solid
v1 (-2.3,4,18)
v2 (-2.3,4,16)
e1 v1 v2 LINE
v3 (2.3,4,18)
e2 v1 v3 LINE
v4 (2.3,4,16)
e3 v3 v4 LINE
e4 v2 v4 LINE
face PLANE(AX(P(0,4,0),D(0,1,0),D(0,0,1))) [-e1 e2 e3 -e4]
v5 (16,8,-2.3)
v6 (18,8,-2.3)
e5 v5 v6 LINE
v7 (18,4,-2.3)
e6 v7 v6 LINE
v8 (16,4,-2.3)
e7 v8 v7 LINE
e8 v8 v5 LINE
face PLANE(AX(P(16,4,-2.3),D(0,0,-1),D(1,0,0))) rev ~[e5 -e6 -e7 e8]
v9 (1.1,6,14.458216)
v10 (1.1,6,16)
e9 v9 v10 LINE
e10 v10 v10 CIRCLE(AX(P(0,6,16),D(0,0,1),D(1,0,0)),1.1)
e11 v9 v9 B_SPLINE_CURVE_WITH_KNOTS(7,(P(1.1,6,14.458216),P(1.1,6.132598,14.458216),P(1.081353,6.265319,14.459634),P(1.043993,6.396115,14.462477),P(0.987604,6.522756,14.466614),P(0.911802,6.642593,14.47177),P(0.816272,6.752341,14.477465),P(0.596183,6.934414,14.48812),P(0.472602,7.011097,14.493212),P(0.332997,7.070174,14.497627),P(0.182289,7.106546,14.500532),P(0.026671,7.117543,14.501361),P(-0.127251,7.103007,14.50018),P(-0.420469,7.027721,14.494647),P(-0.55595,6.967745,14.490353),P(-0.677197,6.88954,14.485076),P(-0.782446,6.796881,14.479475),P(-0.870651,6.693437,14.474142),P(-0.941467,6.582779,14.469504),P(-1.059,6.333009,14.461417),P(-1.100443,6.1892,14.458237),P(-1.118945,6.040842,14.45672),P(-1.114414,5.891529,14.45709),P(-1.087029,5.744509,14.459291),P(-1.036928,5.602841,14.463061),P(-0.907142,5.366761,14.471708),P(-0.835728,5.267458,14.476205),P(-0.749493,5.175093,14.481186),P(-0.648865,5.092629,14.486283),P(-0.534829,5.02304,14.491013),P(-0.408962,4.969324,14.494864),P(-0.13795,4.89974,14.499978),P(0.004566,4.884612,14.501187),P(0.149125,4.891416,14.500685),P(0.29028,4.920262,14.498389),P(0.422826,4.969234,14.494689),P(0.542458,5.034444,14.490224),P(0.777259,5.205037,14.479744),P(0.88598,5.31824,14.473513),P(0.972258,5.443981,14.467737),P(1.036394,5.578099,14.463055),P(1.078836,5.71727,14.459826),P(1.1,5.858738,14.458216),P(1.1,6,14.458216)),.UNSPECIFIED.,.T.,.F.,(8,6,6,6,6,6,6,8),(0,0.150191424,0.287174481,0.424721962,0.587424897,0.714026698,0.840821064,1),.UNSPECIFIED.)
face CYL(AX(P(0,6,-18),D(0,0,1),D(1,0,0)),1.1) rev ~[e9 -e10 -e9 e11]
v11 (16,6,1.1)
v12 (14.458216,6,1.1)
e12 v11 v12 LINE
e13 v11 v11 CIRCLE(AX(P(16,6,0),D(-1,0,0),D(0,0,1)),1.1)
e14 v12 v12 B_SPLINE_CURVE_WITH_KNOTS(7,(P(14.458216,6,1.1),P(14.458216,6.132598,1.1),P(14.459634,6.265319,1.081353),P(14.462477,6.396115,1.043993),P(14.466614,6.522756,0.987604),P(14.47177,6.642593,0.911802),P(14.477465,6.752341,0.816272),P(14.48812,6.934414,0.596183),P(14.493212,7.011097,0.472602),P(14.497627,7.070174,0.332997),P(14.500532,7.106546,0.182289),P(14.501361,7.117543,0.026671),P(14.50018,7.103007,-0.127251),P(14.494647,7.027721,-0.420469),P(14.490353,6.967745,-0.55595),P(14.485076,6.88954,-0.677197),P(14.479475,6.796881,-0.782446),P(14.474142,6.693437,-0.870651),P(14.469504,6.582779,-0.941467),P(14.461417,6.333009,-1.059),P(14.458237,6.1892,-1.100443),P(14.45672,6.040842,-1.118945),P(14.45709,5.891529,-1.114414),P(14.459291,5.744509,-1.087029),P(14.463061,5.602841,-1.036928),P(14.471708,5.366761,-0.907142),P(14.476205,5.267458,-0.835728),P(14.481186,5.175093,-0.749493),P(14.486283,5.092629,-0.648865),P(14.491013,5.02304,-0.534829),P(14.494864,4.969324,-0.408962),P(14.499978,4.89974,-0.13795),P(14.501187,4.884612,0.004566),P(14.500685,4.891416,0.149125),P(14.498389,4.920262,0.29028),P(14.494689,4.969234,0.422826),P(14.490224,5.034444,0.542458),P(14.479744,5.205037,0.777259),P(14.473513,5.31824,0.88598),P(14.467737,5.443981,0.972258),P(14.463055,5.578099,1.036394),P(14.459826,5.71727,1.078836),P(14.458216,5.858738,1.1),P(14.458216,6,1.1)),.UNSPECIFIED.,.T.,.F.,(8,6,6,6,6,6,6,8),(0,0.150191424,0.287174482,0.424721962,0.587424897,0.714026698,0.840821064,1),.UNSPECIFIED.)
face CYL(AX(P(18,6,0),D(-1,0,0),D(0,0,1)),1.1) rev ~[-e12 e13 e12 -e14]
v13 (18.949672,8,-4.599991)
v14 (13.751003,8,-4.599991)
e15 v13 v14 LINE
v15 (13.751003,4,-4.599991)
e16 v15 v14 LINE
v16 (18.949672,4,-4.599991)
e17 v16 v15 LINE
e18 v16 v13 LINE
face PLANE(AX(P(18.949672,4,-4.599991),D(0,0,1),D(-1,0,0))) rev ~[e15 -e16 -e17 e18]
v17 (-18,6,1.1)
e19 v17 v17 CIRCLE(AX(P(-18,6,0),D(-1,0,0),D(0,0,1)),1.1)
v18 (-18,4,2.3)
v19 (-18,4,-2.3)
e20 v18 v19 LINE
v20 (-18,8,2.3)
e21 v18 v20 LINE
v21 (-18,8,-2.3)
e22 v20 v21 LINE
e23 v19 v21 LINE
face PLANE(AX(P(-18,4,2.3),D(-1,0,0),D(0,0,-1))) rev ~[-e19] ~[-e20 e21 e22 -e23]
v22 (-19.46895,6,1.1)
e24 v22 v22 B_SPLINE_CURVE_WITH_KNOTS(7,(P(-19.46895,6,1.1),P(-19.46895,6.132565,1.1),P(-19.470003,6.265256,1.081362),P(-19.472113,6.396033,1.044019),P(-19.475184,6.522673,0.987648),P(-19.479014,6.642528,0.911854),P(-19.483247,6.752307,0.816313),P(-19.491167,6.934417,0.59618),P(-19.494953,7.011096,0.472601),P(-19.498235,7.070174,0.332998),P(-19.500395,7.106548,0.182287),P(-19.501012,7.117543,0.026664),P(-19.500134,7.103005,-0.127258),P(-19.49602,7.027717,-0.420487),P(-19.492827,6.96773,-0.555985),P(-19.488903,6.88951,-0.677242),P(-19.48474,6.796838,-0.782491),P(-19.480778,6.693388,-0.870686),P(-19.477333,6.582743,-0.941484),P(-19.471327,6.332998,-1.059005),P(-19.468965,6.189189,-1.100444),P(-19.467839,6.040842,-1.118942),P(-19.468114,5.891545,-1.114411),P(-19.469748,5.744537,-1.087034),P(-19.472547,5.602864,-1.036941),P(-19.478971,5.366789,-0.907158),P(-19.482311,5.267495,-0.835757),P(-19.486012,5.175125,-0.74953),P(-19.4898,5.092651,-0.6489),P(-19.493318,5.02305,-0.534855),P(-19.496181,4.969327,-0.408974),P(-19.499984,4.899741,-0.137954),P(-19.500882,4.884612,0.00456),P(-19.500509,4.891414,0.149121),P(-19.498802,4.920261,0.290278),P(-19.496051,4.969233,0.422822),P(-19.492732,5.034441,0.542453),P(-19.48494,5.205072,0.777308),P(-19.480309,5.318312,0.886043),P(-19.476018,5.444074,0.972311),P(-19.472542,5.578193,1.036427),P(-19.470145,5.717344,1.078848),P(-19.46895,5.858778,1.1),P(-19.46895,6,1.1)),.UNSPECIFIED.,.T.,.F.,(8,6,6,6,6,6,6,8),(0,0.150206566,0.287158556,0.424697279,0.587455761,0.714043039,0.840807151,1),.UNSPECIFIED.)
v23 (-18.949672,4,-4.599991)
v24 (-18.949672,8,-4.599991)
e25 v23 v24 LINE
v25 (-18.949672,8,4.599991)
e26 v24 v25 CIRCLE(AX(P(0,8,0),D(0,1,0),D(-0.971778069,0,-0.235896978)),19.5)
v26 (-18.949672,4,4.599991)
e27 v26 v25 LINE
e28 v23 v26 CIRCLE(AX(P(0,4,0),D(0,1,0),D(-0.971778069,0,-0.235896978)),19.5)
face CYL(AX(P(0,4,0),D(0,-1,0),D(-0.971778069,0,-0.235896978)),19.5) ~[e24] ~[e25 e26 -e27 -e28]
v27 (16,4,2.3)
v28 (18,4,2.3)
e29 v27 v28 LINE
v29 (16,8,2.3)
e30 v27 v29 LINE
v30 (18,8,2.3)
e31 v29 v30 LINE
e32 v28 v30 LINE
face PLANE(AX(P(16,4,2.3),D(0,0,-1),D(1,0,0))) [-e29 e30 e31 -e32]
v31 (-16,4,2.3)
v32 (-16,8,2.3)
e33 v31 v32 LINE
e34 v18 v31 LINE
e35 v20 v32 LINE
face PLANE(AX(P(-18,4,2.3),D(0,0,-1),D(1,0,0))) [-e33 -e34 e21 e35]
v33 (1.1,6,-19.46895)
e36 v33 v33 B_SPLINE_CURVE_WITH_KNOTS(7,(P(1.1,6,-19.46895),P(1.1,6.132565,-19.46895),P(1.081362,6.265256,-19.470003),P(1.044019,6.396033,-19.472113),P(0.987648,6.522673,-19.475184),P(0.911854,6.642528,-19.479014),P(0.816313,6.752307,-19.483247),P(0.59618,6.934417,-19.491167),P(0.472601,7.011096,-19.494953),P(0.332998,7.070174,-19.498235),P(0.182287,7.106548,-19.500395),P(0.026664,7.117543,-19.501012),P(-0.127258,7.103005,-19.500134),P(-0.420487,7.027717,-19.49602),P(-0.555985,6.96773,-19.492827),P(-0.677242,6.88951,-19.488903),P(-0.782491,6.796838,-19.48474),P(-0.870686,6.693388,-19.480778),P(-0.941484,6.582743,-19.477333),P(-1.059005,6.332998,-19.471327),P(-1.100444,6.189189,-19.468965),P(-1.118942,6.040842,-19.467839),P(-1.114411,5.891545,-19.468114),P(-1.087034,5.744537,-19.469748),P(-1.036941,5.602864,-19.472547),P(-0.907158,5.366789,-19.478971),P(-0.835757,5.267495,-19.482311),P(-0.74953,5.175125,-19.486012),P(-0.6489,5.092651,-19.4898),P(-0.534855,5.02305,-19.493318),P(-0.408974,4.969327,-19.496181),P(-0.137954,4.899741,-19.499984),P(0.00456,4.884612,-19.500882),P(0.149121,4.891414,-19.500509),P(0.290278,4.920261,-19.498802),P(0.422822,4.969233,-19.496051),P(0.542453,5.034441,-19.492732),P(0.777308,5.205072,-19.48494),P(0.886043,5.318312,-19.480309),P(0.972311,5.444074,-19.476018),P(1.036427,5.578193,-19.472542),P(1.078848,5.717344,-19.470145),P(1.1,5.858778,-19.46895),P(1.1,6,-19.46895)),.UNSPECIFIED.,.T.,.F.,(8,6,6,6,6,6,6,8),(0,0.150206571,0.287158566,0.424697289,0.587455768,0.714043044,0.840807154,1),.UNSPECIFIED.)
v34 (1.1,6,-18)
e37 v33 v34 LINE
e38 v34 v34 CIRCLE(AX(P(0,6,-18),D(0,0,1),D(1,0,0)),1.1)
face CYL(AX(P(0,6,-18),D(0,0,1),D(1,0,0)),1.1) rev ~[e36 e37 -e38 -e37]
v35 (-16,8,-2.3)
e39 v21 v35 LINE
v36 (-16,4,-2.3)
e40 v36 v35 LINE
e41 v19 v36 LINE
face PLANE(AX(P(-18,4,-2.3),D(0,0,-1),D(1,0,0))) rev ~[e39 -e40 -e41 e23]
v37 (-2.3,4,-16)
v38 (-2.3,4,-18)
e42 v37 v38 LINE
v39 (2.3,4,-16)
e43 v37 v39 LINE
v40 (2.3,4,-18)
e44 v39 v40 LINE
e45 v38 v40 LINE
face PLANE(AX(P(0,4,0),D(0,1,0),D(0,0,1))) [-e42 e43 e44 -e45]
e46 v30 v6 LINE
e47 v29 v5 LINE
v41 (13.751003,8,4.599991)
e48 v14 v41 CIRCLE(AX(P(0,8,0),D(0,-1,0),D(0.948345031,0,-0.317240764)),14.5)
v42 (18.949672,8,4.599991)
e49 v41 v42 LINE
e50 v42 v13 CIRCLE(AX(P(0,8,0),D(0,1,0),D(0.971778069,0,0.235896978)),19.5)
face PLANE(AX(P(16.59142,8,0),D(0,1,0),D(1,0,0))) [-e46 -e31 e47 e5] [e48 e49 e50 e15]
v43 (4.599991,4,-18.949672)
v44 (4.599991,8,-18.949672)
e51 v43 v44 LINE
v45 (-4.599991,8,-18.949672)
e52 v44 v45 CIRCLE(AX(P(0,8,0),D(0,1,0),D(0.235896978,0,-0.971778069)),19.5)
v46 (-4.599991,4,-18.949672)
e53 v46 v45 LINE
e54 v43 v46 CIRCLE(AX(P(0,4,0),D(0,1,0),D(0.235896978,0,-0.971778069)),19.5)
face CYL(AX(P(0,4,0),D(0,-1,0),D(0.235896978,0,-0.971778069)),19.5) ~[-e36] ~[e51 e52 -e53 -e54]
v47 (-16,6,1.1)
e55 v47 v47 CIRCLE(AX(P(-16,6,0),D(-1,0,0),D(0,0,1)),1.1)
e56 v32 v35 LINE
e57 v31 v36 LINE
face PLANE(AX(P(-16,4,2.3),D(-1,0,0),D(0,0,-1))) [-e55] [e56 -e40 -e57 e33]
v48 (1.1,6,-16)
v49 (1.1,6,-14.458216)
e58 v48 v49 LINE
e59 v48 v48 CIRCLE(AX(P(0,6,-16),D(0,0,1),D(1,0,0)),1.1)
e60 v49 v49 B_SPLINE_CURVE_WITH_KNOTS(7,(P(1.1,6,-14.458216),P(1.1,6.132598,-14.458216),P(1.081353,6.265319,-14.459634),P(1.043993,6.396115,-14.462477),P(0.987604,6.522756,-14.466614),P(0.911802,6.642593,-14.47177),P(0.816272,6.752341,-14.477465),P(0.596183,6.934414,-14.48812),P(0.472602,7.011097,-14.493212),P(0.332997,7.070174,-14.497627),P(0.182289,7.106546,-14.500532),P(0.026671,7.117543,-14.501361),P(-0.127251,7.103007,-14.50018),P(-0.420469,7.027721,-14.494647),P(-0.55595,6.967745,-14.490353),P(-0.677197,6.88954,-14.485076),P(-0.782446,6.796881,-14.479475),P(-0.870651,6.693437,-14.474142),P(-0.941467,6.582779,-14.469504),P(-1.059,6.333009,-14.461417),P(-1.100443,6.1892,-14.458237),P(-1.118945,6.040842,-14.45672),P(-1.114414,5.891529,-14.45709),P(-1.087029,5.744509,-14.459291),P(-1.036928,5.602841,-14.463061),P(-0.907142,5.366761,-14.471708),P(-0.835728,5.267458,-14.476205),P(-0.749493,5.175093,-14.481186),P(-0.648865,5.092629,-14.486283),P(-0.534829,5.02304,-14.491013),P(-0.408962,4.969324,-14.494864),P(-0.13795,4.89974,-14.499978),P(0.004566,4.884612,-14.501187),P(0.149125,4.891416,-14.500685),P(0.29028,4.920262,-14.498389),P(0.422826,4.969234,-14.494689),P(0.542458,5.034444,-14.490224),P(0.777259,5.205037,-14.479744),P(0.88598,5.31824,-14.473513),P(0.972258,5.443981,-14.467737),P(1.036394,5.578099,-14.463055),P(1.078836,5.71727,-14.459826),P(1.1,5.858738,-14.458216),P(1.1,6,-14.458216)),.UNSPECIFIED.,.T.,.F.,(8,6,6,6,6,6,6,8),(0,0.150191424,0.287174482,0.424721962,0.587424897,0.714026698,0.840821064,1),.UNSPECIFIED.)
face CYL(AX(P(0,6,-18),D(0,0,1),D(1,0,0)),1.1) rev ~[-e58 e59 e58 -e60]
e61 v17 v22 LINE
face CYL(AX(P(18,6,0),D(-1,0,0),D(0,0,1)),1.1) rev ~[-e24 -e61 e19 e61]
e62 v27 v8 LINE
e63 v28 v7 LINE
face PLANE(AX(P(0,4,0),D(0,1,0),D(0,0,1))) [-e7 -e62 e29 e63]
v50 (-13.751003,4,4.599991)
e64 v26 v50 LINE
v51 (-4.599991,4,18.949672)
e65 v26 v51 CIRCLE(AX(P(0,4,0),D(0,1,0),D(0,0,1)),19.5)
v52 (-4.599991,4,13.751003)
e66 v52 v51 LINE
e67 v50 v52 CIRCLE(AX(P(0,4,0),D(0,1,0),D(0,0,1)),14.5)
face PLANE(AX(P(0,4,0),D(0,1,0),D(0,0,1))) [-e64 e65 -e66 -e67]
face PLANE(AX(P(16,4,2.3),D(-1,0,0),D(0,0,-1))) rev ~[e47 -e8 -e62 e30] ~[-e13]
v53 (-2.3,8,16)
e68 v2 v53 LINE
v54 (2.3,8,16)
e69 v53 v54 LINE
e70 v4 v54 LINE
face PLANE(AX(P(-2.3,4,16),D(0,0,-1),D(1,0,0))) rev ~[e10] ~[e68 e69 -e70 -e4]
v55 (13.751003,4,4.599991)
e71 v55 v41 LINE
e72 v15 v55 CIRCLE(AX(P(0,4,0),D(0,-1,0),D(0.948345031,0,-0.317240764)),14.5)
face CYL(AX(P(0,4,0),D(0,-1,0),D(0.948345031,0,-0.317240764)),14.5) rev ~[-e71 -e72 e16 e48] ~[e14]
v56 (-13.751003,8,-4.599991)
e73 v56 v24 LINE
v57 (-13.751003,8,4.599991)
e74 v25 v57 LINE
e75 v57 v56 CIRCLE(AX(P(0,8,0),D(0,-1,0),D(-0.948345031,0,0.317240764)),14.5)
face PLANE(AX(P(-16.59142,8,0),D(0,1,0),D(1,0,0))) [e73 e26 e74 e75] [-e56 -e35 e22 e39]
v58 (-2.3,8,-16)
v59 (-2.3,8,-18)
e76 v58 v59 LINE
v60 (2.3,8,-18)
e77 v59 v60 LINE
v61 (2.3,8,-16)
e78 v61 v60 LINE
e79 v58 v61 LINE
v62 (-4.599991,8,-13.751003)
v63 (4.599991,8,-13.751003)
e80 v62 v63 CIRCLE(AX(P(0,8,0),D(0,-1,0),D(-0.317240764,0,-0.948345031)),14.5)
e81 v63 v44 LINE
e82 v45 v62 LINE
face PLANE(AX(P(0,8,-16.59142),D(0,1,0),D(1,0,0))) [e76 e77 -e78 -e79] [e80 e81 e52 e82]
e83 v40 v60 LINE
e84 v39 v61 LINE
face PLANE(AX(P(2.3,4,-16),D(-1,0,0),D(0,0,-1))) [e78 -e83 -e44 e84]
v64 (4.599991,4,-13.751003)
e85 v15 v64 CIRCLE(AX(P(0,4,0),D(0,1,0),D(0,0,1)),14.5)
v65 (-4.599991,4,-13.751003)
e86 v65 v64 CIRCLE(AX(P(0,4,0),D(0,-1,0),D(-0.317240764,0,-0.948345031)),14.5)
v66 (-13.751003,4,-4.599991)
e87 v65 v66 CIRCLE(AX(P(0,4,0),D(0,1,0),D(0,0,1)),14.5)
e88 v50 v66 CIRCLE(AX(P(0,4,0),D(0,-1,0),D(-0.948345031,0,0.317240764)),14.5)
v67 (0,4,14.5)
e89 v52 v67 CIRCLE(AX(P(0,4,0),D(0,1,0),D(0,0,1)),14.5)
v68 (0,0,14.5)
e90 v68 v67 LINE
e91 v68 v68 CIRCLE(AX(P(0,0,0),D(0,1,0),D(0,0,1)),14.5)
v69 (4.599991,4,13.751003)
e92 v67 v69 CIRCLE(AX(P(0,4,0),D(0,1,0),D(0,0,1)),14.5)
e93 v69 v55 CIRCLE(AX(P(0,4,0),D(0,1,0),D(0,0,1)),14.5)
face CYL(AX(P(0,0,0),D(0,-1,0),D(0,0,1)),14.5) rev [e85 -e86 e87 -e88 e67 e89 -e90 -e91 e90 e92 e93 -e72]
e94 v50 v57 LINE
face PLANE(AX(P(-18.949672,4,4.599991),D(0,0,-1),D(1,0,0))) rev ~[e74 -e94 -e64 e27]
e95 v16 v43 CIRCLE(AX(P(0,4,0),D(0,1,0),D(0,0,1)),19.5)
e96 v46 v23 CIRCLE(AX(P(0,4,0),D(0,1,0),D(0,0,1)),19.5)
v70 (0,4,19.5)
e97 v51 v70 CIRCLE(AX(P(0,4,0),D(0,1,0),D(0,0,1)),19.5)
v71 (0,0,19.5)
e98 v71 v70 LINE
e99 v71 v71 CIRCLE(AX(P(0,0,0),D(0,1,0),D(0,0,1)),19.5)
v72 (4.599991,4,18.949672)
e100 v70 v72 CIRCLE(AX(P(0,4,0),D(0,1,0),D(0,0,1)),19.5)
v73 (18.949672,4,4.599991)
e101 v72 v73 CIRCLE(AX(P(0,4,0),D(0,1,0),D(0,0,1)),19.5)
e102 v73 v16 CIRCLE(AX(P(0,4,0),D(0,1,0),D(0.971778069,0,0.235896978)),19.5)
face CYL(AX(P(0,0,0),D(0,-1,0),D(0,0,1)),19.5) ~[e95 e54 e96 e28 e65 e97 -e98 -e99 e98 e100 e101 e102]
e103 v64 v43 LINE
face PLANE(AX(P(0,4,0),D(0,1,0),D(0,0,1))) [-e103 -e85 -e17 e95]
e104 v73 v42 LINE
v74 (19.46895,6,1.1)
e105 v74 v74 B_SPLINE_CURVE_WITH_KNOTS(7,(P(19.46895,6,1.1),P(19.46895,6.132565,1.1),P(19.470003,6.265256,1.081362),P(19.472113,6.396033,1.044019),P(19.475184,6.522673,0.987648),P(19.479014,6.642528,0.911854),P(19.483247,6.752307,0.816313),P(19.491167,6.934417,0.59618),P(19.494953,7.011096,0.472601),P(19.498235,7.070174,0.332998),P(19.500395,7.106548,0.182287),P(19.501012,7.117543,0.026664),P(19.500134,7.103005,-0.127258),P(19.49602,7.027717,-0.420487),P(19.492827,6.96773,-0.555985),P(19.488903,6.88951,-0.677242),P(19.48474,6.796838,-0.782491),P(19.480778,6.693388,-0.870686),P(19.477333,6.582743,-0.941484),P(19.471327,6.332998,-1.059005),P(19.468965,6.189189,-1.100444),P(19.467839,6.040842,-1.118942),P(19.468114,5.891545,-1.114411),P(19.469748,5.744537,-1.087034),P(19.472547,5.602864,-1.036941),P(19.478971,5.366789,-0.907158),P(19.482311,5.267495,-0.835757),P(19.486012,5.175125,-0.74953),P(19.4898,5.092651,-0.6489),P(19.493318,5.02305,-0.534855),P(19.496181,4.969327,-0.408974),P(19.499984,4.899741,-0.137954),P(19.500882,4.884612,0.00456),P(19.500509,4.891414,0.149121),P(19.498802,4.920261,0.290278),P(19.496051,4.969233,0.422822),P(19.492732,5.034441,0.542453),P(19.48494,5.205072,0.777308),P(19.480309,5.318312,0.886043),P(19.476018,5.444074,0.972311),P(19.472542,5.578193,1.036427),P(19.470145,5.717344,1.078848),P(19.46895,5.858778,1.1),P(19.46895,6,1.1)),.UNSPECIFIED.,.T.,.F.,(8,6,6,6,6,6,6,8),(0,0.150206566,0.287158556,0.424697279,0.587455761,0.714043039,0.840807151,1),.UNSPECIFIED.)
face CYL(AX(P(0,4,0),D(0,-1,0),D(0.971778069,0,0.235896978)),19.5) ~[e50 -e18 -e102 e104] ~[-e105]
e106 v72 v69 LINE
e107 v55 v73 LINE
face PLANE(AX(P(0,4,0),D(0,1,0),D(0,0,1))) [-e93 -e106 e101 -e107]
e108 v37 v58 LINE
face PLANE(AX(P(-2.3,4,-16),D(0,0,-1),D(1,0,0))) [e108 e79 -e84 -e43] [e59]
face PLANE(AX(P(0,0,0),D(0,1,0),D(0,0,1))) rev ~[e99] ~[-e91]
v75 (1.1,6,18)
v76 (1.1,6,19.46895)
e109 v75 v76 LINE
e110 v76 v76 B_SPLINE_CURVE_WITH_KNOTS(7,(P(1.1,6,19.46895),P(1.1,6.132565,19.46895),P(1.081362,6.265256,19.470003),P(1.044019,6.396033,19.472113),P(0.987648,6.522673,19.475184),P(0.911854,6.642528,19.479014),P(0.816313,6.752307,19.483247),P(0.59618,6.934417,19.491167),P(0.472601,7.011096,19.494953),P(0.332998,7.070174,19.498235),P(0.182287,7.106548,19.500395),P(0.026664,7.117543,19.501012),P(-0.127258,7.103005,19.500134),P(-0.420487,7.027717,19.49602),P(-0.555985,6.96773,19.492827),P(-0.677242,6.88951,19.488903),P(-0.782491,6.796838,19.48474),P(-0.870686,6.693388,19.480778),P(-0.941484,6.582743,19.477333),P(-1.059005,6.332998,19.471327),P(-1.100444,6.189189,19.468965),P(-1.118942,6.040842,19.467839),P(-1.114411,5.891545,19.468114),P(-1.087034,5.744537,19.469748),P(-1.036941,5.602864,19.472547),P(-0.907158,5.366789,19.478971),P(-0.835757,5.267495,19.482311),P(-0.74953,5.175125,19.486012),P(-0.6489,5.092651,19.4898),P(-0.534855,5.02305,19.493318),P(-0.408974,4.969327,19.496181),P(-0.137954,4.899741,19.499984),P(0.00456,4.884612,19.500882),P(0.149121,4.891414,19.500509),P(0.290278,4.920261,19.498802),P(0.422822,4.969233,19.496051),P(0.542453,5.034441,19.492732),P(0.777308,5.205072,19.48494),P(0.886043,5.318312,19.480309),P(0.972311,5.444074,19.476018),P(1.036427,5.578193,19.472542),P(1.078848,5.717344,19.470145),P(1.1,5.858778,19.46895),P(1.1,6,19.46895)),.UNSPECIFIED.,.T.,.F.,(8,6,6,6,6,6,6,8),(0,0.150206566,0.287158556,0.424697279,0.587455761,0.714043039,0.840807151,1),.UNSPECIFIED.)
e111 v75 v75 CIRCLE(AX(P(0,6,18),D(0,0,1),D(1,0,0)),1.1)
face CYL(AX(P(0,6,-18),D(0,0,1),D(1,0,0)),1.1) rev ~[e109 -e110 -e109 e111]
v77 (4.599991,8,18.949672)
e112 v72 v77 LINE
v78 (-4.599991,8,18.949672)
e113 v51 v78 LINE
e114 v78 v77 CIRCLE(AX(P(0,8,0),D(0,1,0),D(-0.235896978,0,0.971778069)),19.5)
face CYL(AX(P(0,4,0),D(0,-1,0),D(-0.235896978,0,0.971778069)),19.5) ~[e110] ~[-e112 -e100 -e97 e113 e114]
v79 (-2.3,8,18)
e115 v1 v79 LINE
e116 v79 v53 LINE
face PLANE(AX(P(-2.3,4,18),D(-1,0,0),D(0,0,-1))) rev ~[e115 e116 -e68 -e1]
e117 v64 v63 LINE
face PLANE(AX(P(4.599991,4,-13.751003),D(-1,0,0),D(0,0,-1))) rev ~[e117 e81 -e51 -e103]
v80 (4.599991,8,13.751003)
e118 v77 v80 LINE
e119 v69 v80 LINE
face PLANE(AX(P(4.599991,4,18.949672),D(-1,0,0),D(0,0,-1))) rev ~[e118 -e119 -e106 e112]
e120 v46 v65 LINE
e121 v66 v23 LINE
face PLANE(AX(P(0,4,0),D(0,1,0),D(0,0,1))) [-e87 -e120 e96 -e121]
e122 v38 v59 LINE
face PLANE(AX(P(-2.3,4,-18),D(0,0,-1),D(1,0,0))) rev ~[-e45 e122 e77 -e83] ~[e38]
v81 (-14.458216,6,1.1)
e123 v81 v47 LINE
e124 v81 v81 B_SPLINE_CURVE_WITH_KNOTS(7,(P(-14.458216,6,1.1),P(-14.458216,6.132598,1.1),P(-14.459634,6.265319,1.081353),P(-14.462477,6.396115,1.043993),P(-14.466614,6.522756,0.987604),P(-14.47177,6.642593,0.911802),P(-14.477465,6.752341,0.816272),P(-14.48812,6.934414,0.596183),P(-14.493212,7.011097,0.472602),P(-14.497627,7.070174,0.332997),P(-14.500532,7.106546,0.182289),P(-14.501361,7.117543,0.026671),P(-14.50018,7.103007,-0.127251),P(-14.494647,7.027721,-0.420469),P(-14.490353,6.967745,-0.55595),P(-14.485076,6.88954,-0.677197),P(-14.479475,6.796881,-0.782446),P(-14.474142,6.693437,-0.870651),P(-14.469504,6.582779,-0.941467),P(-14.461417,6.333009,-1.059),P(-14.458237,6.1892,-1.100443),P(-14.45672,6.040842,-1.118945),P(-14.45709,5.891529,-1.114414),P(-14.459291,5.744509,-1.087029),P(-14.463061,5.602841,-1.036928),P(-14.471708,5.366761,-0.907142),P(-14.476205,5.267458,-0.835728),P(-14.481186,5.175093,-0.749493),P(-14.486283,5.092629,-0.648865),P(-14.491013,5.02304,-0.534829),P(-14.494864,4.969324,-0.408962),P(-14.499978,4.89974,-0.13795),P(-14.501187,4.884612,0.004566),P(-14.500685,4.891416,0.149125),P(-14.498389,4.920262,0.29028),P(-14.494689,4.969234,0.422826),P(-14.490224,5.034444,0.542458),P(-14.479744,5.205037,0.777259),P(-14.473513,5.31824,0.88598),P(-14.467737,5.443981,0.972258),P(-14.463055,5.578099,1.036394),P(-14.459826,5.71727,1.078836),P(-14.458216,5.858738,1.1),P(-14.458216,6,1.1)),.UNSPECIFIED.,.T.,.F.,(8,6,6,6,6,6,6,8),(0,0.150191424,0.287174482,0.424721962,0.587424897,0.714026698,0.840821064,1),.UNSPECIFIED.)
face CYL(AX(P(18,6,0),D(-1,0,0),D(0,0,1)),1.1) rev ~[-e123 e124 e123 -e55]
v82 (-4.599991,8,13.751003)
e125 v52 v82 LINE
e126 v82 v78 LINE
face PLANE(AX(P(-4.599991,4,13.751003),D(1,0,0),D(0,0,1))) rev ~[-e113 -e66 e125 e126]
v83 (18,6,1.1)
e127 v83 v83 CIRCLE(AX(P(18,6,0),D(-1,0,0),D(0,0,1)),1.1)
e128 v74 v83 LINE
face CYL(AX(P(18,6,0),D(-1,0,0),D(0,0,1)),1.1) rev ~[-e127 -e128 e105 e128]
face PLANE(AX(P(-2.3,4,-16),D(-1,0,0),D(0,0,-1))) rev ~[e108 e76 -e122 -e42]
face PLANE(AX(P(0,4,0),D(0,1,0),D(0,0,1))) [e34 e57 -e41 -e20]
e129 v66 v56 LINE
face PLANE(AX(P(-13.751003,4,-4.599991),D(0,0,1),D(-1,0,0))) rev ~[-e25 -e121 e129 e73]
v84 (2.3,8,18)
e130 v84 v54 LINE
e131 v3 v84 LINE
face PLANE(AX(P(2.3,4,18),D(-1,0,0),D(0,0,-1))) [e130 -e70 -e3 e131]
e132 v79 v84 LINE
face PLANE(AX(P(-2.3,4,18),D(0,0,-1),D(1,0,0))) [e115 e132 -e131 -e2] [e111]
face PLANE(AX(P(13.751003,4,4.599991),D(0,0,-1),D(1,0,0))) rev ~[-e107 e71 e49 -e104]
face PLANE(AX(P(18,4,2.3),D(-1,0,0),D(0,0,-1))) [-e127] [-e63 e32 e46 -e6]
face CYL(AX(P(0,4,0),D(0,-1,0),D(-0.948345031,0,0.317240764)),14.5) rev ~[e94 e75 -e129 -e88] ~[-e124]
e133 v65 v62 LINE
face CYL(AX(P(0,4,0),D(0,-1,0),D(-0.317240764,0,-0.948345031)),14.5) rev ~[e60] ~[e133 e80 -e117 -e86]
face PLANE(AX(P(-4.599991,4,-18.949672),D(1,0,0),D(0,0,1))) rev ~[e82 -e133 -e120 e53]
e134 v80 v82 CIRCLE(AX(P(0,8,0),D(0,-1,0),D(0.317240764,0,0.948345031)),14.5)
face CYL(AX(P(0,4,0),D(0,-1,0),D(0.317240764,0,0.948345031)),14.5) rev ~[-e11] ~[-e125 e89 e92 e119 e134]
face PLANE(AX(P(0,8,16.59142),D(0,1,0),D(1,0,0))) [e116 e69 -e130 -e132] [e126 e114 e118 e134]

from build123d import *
from build123d.topology import SkipClean

# Parameters (mm, degrees)
SKETCH_1_R               = 19.5
SKETCH_1_R_2             = 14.5
EXTRUDE_1_DEPTH          = 4
SKETCH_3_W               = 4.6
SKETCH_3_H               = 2
SKETCH_3_W_2             = 2
SKETCH_3_H_2             = 4.6
EXTRUDE_3_DEPTH          = 4
SKETCH_12_R              = 1.1
CUT_EXTRUDE_2_DEPTH      = 44.017438324
PATTERN_CIRCULAR_2_COUNT = 2
PATTERN_CIRCULAR_2_ANGLE = 90


with BuildPart() as part:
    # Эскиз1 → Бобышка-Вытянуть1 (new body)
    with BuildSketch(Plane(origin=(0, 0, 0), x_dir=(1, 0, 0), z_dir=(0, 1, 0))):
        with Locations(Location((0, 0, 0), (0, 0, 270))):
            Circle(SKETCH_1_R)
        with Locations(Location((0, 0, 0), (0, 0, 270))):
            Circle(SKETCH_1_R_2, mode=Mode.SUBTRACT)
    extrude(amount=EXTRUDE_1_DEPTH)

    # Эскиз3 → Бобышка-Вытянуть3 (add)
    # profile 1 of 4: a face of its own
    with SkipClean():  # the faces are left unmerged after this step: merging them gives an invalid solid
        with BuildSketch(Plane(origin=(0, 4, 0), x_dir=(1, 0, 0), z_dir=(0, 1, 0))):
            with BuildLine():
                Line((-4.599991072, 18.949672349), (-4.599991072, 13.75100295))
                ThreePointArc((-4.599991072, 13.75100295), (0, 14.5), (4.599991072, 13.75100295))
                Line((4.599991072, 13.75100295), (4.599991072, 18.949672349))
                ThreePointArc((4.599991072, 18.949672349), (0, 19.5), (-4.599991072, 18.949672349))
            make_face()
            with Locations((0, 17)):
                Rectangle(SKETCH_3_W, SKETCH_3_H, mode=Mode.SUBTRACT)
        # profile 2 of 4: a face of its own
        with BuildSketch(Plane(origin=(0, 4, 0), x_dir=(1, 0, 0), z_dir=(0, 1, 0))):
            with BuildLine():
                Line((18.949672349, 4.599991072), (13.75100295, 4.599991072))
                ThreePointArc((13.75100295, 4.599991072), (14.5, 0), (13.75100295, -4.599991072))
                Line((13.75100295, -4.599991072), (18.949672349, -4.599991072))
                ThreePointArc((18.949672349, -4.599991072), (19.5, 0), (18.949672349, 4.599991072))
            make_face()
            with Locations((17, 0)):
                Rectangle(SKETCH_3_W_2, SKETCH_3_H_2, mode=Mode.SUBTRACT)
        # profile 3 of 4: a face of its own
        with BuildSketch(Plane(origin=(0, 4, 0), x_dir=(1, 0, 0), z_dir=(0, 1, 0))):
            with BuildLine():
                Line((4.599991072, -18.949672349), (4.599991072, -13.75100295))
                ThreePointArc((4.599991072, -13.75100295), (0, -14.5), (-4.599991072, -13.75100295))
                Line((-4.599991072, -13.75100295), (-4.599991072, -18.949672349))
                ThreePointArc((-4.599991072, -18.949672349), (0, -19.5), (4.599991072, -18.949672349))
            make_face()
            with Locations((0, -17)):
                Rectangle(SKETCH_3_W, SKETCH_3_H, mode=Mode.SUBTRACT)
        # profile 4 of 4: a face of its own
        with BuildSketch(Plane(origin=(0, 4, 0), x_dir=(1, 0, 0), z_dir=(0, 1, 0))):
            with BuildLine():
                Line((-18.949672349, -4.599991072), (-13.75100295, -4.599991072))
                ThreePointArc((-13.75100295, -4.599991072), (-14.5, 0), (-13.75100295, 4.599991072))
                Line((-13.75100295, 4.599991072), (-18.949672349, 4.599991072))
                ThreePointArc((-18.949672349, 4.599991072), (-19.5, 0), (-18.949672349, -4.599991072))
            make_face()
            with Locations((-17, 0)):
                Rectangle(SKETCH_3_W_2, SKETCH_3_H_2, mode=Mode.SUBTRACT)
        extrude(amount=EXTRUDE_3_DEPTH)

    # Эскиз12 → Вырез-Вытянуть2 (cut, symmetric)
    with SkipClean():  # the faces are left unmerged after this step: merging them gives an invalid solid
        with BuildSketch(Plane.XY.offset(-18)):
            with Locations((0, 6)):
                Circle(SKETCH_12_R)
        cut_extrude_2 = extrude(amount=CUT_EXTRUDE_2_DEPTH, both=True, mode=Mode.SUBTRACT)

    # Круговой массив2: Вырез-Вытянуть2 ×2 about axis
    with SkipClean():  # the faces are left unmerged after this step: merging them gives an invalid solid
        pattern_circular_2_axis = Axis((0, 4, 0), (0, -1, 0))
        for i in range(1, PATTERN_CIRCULAR_2_COUNT):
            add(cut_extrude_2.rotate(pattern_circular_2_axis, i * PATTERN_CIRCULAR_2_ANGLE / (PATTERN_CIRCULAR_2_COUNT - 1)), mode=Mode.SUBTRACT)


solid = part.part
